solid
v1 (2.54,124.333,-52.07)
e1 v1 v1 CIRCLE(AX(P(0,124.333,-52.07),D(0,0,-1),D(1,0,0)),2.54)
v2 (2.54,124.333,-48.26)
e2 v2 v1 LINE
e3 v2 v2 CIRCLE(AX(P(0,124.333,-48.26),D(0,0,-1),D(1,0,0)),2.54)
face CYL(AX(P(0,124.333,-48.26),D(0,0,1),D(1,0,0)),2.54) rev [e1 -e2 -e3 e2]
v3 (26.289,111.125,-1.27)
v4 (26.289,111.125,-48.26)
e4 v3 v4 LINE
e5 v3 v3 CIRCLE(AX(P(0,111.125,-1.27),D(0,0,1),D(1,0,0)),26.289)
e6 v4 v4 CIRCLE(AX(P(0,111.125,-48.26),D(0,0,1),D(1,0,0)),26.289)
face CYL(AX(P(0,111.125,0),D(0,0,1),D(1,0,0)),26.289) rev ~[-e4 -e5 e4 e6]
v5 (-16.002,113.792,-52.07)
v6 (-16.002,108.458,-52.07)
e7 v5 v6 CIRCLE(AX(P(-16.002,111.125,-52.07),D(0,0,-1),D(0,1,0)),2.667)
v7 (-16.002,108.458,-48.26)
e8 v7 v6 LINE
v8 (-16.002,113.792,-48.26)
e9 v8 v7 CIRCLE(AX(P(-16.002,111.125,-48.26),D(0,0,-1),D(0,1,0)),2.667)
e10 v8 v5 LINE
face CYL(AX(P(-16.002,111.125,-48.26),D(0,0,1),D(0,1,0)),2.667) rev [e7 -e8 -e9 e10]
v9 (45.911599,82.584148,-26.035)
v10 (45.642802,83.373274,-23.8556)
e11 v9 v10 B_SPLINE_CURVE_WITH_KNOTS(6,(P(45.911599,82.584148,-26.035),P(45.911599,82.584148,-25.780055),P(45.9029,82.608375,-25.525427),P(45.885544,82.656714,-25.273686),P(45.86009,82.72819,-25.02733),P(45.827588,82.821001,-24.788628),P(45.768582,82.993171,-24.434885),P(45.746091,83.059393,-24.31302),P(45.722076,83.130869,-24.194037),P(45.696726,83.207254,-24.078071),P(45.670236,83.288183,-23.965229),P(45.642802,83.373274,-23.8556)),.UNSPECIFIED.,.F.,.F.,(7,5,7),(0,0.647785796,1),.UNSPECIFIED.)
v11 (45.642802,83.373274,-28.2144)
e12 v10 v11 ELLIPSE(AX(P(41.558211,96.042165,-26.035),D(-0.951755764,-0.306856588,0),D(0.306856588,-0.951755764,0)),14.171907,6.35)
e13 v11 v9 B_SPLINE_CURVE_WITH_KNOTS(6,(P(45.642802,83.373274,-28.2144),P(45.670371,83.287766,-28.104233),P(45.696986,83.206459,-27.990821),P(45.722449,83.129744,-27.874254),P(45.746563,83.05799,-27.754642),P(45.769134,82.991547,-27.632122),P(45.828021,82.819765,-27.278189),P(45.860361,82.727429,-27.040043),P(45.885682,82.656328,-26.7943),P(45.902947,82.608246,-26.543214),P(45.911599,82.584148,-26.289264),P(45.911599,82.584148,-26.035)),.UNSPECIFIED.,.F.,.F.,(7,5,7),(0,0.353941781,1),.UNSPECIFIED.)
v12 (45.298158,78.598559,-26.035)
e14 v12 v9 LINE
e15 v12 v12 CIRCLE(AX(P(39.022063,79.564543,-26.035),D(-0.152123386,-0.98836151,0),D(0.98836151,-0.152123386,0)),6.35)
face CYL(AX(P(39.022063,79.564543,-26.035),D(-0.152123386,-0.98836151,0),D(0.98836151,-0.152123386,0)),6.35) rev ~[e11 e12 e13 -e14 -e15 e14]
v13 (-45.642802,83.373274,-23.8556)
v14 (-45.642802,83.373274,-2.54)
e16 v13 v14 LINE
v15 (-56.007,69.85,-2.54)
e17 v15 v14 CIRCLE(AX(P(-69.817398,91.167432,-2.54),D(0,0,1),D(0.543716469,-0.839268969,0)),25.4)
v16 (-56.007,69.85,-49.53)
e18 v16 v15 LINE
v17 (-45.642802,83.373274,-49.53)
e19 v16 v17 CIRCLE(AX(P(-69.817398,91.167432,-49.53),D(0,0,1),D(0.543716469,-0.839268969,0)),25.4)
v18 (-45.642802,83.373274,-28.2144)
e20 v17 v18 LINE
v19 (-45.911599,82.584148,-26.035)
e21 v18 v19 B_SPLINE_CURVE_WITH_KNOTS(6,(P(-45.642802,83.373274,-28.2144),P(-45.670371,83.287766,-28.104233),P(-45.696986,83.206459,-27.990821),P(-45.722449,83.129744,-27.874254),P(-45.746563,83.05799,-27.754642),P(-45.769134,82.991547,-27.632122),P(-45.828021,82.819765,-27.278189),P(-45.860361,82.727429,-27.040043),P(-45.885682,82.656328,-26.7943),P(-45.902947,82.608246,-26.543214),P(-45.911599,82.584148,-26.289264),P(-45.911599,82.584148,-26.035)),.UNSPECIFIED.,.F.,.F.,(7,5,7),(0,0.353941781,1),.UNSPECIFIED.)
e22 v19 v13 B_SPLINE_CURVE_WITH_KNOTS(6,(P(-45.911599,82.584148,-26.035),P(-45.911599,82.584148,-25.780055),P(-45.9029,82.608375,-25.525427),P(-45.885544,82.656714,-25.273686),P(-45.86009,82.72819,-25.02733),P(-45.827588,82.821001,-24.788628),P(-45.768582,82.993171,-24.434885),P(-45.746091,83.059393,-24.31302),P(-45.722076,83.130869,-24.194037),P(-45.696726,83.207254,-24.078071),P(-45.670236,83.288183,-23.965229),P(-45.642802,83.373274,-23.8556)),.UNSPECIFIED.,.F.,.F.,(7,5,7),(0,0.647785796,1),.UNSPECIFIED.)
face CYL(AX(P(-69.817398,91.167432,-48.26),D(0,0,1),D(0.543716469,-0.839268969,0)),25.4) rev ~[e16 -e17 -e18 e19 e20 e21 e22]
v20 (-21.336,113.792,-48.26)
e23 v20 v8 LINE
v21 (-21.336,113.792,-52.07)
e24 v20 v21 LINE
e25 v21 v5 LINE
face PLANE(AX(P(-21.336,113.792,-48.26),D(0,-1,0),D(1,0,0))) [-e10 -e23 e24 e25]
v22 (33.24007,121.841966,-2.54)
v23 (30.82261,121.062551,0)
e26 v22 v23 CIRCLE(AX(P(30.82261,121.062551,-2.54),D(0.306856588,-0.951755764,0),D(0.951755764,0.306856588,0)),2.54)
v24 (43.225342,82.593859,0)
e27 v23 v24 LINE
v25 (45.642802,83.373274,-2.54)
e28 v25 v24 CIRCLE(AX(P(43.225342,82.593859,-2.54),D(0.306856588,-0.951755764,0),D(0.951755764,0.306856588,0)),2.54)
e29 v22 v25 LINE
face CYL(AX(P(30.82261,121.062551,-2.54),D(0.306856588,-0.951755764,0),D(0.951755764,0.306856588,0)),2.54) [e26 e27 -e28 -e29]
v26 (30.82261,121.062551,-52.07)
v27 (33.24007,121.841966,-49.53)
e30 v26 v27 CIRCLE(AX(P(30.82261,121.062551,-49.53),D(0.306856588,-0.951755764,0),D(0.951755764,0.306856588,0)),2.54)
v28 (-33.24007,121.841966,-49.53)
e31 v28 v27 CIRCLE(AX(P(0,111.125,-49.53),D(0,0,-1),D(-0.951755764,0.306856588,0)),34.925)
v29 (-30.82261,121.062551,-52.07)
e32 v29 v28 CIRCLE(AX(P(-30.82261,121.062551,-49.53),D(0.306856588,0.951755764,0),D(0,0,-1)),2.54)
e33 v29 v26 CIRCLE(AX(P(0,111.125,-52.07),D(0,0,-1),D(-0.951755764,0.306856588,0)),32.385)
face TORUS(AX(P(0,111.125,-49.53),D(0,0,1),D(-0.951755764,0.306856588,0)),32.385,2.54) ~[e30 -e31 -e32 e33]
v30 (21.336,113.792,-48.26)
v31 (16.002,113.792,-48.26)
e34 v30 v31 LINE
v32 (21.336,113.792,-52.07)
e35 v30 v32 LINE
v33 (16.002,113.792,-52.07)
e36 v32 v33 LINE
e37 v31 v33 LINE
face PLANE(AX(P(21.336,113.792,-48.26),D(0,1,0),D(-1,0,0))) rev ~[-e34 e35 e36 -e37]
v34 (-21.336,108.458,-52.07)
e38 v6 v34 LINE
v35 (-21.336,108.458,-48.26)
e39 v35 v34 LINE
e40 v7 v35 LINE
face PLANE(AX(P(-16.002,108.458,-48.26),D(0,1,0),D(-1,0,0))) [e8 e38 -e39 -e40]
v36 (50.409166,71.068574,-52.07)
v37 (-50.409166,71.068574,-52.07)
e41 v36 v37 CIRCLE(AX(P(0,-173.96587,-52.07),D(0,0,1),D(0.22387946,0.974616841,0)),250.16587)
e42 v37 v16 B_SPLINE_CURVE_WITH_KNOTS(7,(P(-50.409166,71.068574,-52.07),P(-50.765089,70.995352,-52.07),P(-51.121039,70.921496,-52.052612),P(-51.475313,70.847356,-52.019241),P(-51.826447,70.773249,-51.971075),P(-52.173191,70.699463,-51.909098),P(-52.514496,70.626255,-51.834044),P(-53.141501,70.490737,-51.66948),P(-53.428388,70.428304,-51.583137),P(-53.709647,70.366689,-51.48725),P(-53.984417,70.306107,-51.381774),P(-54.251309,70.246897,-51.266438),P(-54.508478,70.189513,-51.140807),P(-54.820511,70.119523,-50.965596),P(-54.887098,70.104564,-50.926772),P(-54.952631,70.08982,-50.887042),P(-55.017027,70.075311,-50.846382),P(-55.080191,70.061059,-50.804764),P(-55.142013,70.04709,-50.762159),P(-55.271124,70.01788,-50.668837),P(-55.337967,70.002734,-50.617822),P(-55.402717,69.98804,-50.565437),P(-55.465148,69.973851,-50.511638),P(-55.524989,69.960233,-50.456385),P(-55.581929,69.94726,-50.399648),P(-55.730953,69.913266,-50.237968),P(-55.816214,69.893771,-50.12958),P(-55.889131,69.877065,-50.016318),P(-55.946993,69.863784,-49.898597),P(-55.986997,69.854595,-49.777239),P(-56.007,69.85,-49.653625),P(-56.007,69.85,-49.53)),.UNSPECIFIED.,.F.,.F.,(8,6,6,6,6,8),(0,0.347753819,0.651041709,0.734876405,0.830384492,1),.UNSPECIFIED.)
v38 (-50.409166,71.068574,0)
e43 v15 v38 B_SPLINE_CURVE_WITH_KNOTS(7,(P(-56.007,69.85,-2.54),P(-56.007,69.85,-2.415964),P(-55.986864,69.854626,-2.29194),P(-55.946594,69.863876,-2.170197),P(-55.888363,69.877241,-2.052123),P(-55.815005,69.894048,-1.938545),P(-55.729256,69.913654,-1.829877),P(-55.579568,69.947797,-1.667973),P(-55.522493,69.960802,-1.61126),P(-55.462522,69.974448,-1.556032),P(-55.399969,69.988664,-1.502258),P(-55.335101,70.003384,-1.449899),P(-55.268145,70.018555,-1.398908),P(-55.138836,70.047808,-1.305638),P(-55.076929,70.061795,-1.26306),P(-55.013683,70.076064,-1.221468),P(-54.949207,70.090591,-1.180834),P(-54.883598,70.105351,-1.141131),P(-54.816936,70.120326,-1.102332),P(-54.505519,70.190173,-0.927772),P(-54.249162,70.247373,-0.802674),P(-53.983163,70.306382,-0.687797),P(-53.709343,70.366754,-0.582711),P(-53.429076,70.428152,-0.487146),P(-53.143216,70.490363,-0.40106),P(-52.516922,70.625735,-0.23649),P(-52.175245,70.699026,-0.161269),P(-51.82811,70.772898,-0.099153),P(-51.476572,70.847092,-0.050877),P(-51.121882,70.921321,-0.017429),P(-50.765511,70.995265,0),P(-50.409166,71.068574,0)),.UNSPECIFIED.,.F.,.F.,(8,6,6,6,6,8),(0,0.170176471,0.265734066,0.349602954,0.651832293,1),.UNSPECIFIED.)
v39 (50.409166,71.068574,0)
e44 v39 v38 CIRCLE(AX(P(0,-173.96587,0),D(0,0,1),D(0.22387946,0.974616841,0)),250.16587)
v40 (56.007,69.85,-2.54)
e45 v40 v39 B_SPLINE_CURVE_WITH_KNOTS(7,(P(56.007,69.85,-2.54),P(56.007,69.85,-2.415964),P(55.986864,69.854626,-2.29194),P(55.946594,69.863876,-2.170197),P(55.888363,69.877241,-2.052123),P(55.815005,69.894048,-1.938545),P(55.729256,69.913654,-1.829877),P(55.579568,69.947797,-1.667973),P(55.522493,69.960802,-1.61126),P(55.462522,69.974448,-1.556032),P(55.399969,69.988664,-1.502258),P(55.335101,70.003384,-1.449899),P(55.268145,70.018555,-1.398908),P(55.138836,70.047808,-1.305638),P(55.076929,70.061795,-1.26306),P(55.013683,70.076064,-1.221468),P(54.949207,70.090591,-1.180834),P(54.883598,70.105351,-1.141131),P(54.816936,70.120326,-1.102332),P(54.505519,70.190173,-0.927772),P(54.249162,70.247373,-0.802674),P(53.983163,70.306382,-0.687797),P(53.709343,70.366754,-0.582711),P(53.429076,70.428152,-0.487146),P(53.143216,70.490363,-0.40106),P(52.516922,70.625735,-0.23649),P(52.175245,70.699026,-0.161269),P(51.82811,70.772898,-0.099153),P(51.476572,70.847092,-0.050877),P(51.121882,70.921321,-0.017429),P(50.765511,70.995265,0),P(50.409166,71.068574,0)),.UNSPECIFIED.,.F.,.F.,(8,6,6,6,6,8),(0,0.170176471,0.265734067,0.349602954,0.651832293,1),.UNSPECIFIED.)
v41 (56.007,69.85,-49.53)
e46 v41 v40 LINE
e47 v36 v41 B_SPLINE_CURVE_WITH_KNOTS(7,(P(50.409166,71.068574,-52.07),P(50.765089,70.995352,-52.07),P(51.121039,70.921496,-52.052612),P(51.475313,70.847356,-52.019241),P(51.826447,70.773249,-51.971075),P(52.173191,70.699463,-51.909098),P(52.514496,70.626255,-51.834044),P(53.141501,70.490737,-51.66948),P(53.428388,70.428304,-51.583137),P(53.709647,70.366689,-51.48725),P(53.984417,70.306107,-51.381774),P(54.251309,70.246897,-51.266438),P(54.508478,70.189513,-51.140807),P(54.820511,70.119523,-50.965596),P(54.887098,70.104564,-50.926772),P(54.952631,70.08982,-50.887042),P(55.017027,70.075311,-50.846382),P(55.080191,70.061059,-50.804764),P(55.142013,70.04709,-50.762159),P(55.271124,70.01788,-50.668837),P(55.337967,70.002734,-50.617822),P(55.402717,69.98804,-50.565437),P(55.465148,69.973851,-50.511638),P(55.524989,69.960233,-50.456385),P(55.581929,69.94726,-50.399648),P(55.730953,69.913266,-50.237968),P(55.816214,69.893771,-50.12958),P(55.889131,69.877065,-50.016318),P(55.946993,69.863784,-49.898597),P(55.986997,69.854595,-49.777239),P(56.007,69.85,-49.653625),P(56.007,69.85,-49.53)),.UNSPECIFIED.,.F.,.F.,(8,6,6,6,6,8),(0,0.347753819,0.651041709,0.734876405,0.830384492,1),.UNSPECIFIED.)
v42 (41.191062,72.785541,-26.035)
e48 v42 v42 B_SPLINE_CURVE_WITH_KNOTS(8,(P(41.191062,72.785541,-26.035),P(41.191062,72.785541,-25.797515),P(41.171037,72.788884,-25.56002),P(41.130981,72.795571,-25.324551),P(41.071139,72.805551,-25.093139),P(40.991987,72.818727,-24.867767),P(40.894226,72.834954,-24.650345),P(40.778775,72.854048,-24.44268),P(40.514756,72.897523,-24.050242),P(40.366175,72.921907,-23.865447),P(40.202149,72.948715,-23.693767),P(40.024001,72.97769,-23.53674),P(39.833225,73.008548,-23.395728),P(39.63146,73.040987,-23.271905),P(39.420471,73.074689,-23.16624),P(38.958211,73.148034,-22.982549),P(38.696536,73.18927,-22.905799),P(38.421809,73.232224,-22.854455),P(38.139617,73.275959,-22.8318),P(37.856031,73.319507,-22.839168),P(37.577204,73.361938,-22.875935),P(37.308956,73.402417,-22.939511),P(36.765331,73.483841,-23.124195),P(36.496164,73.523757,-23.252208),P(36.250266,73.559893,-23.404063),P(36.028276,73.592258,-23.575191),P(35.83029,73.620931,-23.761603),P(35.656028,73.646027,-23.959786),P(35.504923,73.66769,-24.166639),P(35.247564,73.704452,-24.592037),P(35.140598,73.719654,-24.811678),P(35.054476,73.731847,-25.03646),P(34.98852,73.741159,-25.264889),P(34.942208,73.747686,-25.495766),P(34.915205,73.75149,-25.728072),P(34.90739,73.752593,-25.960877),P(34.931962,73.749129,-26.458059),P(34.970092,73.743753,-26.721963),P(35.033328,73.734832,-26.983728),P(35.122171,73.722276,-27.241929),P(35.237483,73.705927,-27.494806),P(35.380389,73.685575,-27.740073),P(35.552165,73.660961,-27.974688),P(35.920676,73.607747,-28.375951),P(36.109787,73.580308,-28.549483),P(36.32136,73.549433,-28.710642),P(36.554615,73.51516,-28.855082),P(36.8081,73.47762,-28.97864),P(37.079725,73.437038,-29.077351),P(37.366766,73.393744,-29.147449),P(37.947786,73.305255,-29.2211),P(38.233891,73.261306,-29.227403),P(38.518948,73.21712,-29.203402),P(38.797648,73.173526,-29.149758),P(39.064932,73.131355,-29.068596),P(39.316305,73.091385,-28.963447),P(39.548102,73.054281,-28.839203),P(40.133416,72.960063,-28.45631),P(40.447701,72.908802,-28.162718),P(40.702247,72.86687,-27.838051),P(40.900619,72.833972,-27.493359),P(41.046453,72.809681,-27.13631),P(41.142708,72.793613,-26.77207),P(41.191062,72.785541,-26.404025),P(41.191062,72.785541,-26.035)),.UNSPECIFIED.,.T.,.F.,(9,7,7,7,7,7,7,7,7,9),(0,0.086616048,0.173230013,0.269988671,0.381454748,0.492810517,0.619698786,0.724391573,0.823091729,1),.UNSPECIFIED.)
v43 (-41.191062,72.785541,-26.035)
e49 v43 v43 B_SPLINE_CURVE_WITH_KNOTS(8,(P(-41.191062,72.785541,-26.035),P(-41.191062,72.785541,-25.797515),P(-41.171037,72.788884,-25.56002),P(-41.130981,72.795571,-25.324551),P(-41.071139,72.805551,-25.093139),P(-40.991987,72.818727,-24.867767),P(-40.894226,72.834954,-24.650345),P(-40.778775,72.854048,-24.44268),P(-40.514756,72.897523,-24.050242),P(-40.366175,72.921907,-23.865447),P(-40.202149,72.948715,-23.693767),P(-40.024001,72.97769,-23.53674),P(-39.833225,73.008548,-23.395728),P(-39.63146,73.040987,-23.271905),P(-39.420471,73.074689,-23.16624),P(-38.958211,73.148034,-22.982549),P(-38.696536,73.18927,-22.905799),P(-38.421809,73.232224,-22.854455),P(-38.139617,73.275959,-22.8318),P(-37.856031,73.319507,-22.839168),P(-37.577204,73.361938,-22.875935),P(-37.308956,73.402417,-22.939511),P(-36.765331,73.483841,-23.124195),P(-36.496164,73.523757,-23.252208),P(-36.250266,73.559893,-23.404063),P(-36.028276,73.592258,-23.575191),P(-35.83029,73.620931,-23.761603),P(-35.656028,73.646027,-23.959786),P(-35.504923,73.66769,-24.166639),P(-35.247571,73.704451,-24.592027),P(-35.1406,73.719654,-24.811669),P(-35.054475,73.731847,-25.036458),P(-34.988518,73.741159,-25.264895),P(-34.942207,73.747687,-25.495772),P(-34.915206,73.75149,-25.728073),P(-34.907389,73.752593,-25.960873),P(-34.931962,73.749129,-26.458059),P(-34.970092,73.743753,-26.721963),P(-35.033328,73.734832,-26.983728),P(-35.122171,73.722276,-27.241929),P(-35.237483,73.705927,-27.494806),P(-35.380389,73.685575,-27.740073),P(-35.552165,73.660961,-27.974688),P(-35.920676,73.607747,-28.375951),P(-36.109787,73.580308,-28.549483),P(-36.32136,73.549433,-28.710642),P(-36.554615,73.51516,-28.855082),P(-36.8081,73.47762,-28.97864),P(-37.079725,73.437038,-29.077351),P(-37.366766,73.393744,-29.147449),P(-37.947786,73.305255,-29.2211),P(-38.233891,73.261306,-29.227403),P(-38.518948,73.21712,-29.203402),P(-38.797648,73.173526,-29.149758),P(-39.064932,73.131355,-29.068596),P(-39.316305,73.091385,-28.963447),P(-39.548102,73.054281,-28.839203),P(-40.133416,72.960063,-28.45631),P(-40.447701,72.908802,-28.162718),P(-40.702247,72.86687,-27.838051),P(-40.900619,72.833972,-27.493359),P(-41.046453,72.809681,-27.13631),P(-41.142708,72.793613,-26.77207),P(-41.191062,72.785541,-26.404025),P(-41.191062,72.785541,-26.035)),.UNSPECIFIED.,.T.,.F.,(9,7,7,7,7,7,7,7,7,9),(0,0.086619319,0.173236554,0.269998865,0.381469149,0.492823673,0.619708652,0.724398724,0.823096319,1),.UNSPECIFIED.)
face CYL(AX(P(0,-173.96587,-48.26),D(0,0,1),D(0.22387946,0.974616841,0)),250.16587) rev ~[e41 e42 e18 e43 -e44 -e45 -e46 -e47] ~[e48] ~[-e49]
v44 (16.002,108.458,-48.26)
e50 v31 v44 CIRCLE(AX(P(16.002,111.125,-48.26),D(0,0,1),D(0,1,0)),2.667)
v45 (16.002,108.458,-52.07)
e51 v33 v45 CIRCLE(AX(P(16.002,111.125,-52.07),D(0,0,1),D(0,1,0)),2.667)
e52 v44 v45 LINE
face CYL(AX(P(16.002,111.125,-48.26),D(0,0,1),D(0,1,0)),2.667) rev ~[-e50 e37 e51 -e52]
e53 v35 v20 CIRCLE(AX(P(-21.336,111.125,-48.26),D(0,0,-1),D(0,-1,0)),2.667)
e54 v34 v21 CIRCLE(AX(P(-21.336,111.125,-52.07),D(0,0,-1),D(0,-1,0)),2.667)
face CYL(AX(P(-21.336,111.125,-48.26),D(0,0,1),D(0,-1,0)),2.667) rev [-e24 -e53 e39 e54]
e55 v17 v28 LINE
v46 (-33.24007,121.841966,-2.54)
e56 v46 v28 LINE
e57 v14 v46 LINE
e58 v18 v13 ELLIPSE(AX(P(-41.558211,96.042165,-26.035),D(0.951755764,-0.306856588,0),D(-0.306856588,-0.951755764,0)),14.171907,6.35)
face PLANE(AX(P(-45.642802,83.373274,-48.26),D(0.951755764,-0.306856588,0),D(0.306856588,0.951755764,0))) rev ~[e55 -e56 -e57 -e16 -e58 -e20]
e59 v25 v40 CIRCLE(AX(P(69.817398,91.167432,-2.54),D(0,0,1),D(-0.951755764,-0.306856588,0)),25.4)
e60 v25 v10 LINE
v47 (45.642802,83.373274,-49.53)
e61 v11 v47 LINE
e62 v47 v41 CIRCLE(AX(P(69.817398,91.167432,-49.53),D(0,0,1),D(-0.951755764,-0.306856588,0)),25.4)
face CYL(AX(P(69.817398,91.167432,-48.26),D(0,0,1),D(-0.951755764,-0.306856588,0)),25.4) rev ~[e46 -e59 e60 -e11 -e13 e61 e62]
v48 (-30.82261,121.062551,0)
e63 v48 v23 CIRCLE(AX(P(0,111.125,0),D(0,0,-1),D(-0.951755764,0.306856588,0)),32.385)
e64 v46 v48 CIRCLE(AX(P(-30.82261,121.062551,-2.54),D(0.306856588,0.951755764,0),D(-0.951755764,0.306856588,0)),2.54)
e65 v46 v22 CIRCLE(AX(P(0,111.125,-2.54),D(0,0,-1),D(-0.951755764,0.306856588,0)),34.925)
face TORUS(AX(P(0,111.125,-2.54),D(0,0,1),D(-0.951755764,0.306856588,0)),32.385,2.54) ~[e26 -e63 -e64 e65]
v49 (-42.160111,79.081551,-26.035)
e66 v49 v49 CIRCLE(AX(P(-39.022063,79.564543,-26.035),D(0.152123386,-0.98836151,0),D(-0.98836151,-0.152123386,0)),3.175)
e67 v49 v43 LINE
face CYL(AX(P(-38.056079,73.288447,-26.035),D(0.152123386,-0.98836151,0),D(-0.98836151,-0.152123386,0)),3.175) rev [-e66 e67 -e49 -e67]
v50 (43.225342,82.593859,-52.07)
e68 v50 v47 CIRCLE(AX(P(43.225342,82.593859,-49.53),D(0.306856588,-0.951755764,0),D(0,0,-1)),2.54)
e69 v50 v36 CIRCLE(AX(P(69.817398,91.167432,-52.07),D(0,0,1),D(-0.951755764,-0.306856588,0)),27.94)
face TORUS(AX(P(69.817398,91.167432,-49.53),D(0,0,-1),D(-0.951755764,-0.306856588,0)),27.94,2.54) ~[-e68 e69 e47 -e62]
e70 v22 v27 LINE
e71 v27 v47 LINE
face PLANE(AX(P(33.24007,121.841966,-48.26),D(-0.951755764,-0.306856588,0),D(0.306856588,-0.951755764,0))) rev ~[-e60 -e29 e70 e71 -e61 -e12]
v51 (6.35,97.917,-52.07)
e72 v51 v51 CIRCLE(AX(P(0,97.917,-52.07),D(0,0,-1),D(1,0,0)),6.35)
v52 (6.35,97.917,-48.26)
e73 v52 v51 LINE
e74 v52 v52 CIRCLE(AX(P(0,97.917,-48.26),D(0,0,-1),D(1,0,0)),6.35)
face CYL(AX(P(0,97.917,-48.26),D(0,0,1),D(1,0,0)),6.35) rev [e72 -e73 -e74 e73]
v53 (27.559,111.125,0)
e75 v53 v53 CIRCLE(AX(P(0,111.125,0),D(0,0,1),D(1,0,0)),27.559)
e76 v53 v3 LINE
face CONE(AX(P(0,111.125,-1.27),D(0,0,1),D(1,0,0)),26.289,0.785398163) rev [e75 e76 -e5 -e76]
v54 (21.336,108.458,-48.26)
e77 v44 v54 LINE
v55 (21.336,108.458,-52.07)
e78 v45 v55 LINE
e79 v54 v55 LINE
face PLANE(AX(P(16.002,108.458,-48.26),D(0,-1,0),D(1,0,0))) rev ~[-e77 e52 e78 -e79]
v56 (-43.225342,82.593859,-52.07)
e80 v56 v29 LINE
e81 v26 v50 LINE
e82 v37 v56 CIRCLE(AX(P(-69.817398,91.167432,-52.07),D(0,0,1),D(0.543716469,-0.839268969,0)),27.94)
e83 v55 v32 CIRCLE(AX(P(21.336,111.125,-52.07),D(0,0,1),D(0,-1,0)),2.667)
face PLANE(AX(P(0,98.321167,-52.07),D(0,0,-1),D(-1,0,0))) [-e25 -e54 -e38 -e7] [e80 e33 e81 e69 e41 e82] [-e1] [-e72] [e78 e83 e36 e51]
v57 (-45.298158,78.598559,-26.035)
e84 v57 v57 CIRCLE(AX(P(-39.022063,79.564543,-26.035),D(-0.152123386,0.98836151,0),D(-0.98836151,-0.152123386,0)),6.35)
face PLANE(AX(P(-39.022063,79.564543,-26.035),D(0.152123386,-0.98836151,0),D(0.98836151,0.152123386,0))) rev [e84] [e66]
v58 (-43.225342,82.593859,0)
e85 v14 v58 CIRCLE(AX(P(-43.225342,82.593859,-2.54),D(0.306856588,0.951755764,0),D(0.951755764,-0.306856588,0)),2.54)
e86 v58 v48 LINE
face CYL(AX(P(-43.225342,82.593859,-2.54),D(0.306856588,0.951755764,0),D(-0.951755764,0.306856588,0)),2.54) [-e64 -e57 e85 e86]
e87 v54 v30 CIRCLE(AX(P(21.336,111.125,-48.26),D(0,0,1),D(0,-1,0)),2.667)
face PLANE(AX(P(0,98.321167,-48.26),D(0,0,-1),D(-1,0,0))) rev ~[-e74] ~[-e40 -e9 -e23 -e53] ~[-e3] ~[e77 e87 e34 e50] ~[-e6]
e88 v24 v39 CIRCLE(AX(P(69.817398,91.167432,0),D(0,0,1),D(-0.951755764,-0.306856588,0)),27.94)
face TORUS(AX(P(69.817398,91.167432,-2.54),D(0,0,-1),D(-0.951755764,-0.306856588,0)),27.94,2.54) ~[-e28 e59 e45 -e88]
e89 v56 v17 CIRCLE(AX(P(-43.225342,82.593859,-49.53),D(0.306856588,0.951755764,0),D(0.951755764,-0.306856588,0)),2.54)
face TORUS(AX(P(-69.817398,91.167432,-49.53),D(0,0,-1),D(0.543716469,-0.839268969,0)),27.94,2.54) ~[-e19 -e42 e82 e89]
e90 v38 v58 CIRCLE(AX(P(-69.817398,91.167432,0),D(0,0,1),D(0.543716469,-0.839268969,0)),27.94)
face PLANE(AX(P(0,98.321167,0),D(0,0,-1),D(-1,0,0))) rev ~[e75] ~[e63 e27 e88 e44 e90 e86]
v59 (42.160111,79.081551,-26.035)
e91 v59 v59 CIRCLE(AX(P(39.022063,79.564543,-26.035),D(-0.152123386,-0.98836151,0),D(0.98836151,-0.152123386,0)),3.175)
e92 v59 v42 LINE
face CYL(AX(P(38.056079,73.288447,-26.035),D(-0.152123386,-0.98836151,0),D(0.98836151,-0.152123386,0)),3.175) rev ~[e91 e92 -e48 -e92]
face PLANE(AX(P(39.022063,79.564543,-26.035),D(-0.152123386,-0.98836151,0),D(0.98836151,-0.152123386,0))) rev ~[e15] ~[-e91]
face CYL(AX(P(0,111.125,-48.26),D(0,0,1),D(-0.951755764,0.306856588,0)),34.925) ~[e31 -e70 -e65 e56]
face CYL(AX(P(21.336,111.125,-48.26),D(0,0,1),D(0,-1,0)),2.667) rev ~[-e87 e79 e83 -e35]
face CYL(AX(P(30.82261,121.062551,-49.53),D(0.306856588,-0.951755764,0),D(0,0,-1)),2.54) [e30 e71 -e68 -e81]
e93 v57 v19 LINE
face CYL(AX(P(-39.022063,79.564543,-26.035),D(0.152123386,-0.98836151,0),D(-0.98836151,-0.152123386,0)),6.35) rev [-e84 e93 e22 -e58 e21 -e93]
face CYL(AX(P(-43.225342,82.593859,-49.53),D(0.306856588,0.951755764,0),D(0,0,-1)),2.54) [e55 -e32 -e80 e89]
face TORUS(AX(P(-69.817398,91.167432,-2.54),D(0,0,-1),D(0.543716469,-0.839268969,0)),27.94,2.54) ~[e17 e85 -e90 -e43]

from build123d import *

# Parameters (mm, degrees)
SKETCH1_R           = 26.289
BOSS_EXTRUDE1_DEPTH = 48.26
FILLET1_R           = 2.54
CHAMFER1_SIZE       = 1.27
SKETCH2_R           = 6.35
SKETCH2_R_2         = 2.54
BOSS_EXTRUDE2_DEPTH = 3.81
FILLET2_R           = 2.54
SKETCH4_R           = 3.175
CUT_EXTRUDE1_DEPTH  = 110.759820078
CUT_EXTRUDE2_START  = -6.35
SKETCH5_R           = 6.35
CUT_EXTRUDE2_DEPTH  = 104.409820078


with BuildPart() as part:
    # Sketch1 → Boss-Extrude1 (new body)
    with BuildSketch(Plane.XY):
        with BuildLine():
            Line((-45.642801894, 83.373274477), (-33.240070063, 121.841966324))
            ThreePointArc((-33.240070063, 121.841966324), (0, 146.05), (33.240070063, 121.841966324))
            Line((33.240070063, 121.841966324), (45.642801894, 83.373274477))
            ThreePointArc((45.642801894, 83.373274477), (49.65717276, 75.716693762), (56.007, 69.85))
            ThreePointArc((56.007, 69.85), (0, 76.2), (-56.007, 69.85))
            ThreePointArc((-56.007, 69.85), (-49.65717276, 75.716693762), (-45.642801894, 83.373274477))
        make_face()
        with Locations((0, 111.125)):
            Circle(SKETCH1_R, mode=Mode.SUBTRACT)
    extrude(amount=-BOSS_EXTRUDE1_DEPTH)

    # Fillet1
    fillet1_edges = [part.edges().sort_by_distance(p)[0] for p in [
        (-49.65717276, 75.716693762, 0),
        (-39.441435979, 102.6076204, 0),
        (0, 146.05, 0),
        (39.441435979, 102.6076204, 0),
        (49.65717276, 75.716693762, 0),
    ]]
    fillet(fillet1_edges, radius=FILLET1_R)

    # Chamfer1
    chamfer1_edges = [part.edges().sort_by_distance(p)[0] for p in [
        (-26.289, 111.125, 0),
    ]]
    chamfer(chamfer1_edges, length=CHAMFER1_SIZE)

    # Sketch2 → Boss-Extrude2 (add)
    with BuildSketch(Plane(origin=(0, 0, -48.26), x_dir=(-1, 0, 0), z_dir=(0, 0, -1))):
        with BuildLine():
            Line((45.642801894, 83.373274477), (33.240070063, 121.841966324))
            ThreePointArc((33.240070063, 121.841966324), (0, 146.05), (-33.240070063, 121.841966324))
            Line((-33.240070063, 121.841966324), (-45.642801894, 83.373274477))
            ThreePointArc((-45.642801894, 83.373274477), (-49.65717276, 75.716693762), (-56.007, 69.85))
            ThreePointArc((-56.007, 69.85), (0, 76.2), (56.007, 69.85))
            ThreePointArc((56.007, 69.85), (49.65717276, 75.716693762), (45.642801894, 83.373274477))
        make_face()
        with Locations(Location((0, 97.917, 0), (0, 0, 180))):
            Circle(SKETCH2_R, mode=Mode.SUBTRACT)
        with Locations(Location((0, 124.333, 0), (0, 0, 180))):
            Circle(SKETCH2_R_2, mode=Mode.SUBTRACT)
        with BuildLine():
            Line((-21.336, 113.792), (-16.002, 113.792))
            ThreePointArc((-16.002, 113.792), (-13.335, 111.125), (-16.002, 108.458))
            Line((-16.002, 108.458), (-21.336, 108.458))
            ThreePointArc((-21.336, 108.458), (-24.003, 111.125), (-21.336, 113.792))
        make_face(mode=Mode.SUBTRACT)
        with BuildLine():
            Line((21.336, 113.792), (16.002, 113.792))
            ThreePointArc((16.002, 113.792), (13.335, 111.125), (16.002, 108.458))
            Line((16.002, 108.458), (21.336, 108.458))
            ThreePointArc((21.336, 108.458), (24.003, 111.125), (21.336, 113.792))
        make_face(mode=Mode.SUBTRACT)
    extrude(amount=BOSS_EXTRUDE2_DEPTH)

    # Fillet2
    fillet2_edges = [part.edges().sort_by_distance(p)[0] for p in [
        (-49.65717276, 75.716693762, -52.07),
        (-39.441435979, 102.6076204, -52.07),
        (0, 146.05, -52.07),
        (39.441435979, 102.6076204, -52.07),
        (49.65717276, 75.716693762, -52.07),
    ]]
    fillet(fillet2_edges, radius=FILLET2_R)

    # Sketch4 → Cut-Extrude1 (cut, symmetric)
    with BuildSketch(Plane(origin=(11.899806241, 77.314282605, 0), x_dir=(-0.9883615104677608, 0.15212338618991694, 0), z_dir=(-0.15212338618991694, -0.9883615104677608, 0))):
        with Locations(Location((-26.464277226, 26.035, 0), (0, 0, 180))):
            Circle(SKETCH4_R)
    cut_extrude1 = extrude(amount=CUT_EXTRUDE1_DEPTH, both=True, mode=Mode.SUBTRACT)

    # Sketch5 → Cut-Extrude2 (cut, through all)
    with BuildSketch(Plane(origin=(11.899806241, 77.314282605, 0), x_dir=(-0.9883615104677608, 0.15212338618991694, 0), z_dir=(-0.15212338618991694, -0.9883615104677608, 0)).offset(CUT_EXTRUDE2_START)):
        with Locations(Location((-26.464277226, 26.035, 0), (0, 0, 180))):
            Circle(SKETCH5_R)
    cut_extrude2 = extrude(amount=-CUT_EXTRUDE2_DEPTH, mode=Mode.SUBTRACT)

    # Mirror1: Cut-Extrude1, Cut-Extrude2 across plane
    add(cut_extrude1.mirror(Plane(origin=(0, 0, 0), x_dir=(0, 0, 1), z_dir=(1, 0, 0))), mode=Mode.SUBTRACT)
    add(cut_extrude2.mirror(Plane(origin=(0, 0, 0), x_dir=(0, 0, 1), z_dir=(1, 0, 0))), mode=Mode.SUBTRACT)


solid = part.part
